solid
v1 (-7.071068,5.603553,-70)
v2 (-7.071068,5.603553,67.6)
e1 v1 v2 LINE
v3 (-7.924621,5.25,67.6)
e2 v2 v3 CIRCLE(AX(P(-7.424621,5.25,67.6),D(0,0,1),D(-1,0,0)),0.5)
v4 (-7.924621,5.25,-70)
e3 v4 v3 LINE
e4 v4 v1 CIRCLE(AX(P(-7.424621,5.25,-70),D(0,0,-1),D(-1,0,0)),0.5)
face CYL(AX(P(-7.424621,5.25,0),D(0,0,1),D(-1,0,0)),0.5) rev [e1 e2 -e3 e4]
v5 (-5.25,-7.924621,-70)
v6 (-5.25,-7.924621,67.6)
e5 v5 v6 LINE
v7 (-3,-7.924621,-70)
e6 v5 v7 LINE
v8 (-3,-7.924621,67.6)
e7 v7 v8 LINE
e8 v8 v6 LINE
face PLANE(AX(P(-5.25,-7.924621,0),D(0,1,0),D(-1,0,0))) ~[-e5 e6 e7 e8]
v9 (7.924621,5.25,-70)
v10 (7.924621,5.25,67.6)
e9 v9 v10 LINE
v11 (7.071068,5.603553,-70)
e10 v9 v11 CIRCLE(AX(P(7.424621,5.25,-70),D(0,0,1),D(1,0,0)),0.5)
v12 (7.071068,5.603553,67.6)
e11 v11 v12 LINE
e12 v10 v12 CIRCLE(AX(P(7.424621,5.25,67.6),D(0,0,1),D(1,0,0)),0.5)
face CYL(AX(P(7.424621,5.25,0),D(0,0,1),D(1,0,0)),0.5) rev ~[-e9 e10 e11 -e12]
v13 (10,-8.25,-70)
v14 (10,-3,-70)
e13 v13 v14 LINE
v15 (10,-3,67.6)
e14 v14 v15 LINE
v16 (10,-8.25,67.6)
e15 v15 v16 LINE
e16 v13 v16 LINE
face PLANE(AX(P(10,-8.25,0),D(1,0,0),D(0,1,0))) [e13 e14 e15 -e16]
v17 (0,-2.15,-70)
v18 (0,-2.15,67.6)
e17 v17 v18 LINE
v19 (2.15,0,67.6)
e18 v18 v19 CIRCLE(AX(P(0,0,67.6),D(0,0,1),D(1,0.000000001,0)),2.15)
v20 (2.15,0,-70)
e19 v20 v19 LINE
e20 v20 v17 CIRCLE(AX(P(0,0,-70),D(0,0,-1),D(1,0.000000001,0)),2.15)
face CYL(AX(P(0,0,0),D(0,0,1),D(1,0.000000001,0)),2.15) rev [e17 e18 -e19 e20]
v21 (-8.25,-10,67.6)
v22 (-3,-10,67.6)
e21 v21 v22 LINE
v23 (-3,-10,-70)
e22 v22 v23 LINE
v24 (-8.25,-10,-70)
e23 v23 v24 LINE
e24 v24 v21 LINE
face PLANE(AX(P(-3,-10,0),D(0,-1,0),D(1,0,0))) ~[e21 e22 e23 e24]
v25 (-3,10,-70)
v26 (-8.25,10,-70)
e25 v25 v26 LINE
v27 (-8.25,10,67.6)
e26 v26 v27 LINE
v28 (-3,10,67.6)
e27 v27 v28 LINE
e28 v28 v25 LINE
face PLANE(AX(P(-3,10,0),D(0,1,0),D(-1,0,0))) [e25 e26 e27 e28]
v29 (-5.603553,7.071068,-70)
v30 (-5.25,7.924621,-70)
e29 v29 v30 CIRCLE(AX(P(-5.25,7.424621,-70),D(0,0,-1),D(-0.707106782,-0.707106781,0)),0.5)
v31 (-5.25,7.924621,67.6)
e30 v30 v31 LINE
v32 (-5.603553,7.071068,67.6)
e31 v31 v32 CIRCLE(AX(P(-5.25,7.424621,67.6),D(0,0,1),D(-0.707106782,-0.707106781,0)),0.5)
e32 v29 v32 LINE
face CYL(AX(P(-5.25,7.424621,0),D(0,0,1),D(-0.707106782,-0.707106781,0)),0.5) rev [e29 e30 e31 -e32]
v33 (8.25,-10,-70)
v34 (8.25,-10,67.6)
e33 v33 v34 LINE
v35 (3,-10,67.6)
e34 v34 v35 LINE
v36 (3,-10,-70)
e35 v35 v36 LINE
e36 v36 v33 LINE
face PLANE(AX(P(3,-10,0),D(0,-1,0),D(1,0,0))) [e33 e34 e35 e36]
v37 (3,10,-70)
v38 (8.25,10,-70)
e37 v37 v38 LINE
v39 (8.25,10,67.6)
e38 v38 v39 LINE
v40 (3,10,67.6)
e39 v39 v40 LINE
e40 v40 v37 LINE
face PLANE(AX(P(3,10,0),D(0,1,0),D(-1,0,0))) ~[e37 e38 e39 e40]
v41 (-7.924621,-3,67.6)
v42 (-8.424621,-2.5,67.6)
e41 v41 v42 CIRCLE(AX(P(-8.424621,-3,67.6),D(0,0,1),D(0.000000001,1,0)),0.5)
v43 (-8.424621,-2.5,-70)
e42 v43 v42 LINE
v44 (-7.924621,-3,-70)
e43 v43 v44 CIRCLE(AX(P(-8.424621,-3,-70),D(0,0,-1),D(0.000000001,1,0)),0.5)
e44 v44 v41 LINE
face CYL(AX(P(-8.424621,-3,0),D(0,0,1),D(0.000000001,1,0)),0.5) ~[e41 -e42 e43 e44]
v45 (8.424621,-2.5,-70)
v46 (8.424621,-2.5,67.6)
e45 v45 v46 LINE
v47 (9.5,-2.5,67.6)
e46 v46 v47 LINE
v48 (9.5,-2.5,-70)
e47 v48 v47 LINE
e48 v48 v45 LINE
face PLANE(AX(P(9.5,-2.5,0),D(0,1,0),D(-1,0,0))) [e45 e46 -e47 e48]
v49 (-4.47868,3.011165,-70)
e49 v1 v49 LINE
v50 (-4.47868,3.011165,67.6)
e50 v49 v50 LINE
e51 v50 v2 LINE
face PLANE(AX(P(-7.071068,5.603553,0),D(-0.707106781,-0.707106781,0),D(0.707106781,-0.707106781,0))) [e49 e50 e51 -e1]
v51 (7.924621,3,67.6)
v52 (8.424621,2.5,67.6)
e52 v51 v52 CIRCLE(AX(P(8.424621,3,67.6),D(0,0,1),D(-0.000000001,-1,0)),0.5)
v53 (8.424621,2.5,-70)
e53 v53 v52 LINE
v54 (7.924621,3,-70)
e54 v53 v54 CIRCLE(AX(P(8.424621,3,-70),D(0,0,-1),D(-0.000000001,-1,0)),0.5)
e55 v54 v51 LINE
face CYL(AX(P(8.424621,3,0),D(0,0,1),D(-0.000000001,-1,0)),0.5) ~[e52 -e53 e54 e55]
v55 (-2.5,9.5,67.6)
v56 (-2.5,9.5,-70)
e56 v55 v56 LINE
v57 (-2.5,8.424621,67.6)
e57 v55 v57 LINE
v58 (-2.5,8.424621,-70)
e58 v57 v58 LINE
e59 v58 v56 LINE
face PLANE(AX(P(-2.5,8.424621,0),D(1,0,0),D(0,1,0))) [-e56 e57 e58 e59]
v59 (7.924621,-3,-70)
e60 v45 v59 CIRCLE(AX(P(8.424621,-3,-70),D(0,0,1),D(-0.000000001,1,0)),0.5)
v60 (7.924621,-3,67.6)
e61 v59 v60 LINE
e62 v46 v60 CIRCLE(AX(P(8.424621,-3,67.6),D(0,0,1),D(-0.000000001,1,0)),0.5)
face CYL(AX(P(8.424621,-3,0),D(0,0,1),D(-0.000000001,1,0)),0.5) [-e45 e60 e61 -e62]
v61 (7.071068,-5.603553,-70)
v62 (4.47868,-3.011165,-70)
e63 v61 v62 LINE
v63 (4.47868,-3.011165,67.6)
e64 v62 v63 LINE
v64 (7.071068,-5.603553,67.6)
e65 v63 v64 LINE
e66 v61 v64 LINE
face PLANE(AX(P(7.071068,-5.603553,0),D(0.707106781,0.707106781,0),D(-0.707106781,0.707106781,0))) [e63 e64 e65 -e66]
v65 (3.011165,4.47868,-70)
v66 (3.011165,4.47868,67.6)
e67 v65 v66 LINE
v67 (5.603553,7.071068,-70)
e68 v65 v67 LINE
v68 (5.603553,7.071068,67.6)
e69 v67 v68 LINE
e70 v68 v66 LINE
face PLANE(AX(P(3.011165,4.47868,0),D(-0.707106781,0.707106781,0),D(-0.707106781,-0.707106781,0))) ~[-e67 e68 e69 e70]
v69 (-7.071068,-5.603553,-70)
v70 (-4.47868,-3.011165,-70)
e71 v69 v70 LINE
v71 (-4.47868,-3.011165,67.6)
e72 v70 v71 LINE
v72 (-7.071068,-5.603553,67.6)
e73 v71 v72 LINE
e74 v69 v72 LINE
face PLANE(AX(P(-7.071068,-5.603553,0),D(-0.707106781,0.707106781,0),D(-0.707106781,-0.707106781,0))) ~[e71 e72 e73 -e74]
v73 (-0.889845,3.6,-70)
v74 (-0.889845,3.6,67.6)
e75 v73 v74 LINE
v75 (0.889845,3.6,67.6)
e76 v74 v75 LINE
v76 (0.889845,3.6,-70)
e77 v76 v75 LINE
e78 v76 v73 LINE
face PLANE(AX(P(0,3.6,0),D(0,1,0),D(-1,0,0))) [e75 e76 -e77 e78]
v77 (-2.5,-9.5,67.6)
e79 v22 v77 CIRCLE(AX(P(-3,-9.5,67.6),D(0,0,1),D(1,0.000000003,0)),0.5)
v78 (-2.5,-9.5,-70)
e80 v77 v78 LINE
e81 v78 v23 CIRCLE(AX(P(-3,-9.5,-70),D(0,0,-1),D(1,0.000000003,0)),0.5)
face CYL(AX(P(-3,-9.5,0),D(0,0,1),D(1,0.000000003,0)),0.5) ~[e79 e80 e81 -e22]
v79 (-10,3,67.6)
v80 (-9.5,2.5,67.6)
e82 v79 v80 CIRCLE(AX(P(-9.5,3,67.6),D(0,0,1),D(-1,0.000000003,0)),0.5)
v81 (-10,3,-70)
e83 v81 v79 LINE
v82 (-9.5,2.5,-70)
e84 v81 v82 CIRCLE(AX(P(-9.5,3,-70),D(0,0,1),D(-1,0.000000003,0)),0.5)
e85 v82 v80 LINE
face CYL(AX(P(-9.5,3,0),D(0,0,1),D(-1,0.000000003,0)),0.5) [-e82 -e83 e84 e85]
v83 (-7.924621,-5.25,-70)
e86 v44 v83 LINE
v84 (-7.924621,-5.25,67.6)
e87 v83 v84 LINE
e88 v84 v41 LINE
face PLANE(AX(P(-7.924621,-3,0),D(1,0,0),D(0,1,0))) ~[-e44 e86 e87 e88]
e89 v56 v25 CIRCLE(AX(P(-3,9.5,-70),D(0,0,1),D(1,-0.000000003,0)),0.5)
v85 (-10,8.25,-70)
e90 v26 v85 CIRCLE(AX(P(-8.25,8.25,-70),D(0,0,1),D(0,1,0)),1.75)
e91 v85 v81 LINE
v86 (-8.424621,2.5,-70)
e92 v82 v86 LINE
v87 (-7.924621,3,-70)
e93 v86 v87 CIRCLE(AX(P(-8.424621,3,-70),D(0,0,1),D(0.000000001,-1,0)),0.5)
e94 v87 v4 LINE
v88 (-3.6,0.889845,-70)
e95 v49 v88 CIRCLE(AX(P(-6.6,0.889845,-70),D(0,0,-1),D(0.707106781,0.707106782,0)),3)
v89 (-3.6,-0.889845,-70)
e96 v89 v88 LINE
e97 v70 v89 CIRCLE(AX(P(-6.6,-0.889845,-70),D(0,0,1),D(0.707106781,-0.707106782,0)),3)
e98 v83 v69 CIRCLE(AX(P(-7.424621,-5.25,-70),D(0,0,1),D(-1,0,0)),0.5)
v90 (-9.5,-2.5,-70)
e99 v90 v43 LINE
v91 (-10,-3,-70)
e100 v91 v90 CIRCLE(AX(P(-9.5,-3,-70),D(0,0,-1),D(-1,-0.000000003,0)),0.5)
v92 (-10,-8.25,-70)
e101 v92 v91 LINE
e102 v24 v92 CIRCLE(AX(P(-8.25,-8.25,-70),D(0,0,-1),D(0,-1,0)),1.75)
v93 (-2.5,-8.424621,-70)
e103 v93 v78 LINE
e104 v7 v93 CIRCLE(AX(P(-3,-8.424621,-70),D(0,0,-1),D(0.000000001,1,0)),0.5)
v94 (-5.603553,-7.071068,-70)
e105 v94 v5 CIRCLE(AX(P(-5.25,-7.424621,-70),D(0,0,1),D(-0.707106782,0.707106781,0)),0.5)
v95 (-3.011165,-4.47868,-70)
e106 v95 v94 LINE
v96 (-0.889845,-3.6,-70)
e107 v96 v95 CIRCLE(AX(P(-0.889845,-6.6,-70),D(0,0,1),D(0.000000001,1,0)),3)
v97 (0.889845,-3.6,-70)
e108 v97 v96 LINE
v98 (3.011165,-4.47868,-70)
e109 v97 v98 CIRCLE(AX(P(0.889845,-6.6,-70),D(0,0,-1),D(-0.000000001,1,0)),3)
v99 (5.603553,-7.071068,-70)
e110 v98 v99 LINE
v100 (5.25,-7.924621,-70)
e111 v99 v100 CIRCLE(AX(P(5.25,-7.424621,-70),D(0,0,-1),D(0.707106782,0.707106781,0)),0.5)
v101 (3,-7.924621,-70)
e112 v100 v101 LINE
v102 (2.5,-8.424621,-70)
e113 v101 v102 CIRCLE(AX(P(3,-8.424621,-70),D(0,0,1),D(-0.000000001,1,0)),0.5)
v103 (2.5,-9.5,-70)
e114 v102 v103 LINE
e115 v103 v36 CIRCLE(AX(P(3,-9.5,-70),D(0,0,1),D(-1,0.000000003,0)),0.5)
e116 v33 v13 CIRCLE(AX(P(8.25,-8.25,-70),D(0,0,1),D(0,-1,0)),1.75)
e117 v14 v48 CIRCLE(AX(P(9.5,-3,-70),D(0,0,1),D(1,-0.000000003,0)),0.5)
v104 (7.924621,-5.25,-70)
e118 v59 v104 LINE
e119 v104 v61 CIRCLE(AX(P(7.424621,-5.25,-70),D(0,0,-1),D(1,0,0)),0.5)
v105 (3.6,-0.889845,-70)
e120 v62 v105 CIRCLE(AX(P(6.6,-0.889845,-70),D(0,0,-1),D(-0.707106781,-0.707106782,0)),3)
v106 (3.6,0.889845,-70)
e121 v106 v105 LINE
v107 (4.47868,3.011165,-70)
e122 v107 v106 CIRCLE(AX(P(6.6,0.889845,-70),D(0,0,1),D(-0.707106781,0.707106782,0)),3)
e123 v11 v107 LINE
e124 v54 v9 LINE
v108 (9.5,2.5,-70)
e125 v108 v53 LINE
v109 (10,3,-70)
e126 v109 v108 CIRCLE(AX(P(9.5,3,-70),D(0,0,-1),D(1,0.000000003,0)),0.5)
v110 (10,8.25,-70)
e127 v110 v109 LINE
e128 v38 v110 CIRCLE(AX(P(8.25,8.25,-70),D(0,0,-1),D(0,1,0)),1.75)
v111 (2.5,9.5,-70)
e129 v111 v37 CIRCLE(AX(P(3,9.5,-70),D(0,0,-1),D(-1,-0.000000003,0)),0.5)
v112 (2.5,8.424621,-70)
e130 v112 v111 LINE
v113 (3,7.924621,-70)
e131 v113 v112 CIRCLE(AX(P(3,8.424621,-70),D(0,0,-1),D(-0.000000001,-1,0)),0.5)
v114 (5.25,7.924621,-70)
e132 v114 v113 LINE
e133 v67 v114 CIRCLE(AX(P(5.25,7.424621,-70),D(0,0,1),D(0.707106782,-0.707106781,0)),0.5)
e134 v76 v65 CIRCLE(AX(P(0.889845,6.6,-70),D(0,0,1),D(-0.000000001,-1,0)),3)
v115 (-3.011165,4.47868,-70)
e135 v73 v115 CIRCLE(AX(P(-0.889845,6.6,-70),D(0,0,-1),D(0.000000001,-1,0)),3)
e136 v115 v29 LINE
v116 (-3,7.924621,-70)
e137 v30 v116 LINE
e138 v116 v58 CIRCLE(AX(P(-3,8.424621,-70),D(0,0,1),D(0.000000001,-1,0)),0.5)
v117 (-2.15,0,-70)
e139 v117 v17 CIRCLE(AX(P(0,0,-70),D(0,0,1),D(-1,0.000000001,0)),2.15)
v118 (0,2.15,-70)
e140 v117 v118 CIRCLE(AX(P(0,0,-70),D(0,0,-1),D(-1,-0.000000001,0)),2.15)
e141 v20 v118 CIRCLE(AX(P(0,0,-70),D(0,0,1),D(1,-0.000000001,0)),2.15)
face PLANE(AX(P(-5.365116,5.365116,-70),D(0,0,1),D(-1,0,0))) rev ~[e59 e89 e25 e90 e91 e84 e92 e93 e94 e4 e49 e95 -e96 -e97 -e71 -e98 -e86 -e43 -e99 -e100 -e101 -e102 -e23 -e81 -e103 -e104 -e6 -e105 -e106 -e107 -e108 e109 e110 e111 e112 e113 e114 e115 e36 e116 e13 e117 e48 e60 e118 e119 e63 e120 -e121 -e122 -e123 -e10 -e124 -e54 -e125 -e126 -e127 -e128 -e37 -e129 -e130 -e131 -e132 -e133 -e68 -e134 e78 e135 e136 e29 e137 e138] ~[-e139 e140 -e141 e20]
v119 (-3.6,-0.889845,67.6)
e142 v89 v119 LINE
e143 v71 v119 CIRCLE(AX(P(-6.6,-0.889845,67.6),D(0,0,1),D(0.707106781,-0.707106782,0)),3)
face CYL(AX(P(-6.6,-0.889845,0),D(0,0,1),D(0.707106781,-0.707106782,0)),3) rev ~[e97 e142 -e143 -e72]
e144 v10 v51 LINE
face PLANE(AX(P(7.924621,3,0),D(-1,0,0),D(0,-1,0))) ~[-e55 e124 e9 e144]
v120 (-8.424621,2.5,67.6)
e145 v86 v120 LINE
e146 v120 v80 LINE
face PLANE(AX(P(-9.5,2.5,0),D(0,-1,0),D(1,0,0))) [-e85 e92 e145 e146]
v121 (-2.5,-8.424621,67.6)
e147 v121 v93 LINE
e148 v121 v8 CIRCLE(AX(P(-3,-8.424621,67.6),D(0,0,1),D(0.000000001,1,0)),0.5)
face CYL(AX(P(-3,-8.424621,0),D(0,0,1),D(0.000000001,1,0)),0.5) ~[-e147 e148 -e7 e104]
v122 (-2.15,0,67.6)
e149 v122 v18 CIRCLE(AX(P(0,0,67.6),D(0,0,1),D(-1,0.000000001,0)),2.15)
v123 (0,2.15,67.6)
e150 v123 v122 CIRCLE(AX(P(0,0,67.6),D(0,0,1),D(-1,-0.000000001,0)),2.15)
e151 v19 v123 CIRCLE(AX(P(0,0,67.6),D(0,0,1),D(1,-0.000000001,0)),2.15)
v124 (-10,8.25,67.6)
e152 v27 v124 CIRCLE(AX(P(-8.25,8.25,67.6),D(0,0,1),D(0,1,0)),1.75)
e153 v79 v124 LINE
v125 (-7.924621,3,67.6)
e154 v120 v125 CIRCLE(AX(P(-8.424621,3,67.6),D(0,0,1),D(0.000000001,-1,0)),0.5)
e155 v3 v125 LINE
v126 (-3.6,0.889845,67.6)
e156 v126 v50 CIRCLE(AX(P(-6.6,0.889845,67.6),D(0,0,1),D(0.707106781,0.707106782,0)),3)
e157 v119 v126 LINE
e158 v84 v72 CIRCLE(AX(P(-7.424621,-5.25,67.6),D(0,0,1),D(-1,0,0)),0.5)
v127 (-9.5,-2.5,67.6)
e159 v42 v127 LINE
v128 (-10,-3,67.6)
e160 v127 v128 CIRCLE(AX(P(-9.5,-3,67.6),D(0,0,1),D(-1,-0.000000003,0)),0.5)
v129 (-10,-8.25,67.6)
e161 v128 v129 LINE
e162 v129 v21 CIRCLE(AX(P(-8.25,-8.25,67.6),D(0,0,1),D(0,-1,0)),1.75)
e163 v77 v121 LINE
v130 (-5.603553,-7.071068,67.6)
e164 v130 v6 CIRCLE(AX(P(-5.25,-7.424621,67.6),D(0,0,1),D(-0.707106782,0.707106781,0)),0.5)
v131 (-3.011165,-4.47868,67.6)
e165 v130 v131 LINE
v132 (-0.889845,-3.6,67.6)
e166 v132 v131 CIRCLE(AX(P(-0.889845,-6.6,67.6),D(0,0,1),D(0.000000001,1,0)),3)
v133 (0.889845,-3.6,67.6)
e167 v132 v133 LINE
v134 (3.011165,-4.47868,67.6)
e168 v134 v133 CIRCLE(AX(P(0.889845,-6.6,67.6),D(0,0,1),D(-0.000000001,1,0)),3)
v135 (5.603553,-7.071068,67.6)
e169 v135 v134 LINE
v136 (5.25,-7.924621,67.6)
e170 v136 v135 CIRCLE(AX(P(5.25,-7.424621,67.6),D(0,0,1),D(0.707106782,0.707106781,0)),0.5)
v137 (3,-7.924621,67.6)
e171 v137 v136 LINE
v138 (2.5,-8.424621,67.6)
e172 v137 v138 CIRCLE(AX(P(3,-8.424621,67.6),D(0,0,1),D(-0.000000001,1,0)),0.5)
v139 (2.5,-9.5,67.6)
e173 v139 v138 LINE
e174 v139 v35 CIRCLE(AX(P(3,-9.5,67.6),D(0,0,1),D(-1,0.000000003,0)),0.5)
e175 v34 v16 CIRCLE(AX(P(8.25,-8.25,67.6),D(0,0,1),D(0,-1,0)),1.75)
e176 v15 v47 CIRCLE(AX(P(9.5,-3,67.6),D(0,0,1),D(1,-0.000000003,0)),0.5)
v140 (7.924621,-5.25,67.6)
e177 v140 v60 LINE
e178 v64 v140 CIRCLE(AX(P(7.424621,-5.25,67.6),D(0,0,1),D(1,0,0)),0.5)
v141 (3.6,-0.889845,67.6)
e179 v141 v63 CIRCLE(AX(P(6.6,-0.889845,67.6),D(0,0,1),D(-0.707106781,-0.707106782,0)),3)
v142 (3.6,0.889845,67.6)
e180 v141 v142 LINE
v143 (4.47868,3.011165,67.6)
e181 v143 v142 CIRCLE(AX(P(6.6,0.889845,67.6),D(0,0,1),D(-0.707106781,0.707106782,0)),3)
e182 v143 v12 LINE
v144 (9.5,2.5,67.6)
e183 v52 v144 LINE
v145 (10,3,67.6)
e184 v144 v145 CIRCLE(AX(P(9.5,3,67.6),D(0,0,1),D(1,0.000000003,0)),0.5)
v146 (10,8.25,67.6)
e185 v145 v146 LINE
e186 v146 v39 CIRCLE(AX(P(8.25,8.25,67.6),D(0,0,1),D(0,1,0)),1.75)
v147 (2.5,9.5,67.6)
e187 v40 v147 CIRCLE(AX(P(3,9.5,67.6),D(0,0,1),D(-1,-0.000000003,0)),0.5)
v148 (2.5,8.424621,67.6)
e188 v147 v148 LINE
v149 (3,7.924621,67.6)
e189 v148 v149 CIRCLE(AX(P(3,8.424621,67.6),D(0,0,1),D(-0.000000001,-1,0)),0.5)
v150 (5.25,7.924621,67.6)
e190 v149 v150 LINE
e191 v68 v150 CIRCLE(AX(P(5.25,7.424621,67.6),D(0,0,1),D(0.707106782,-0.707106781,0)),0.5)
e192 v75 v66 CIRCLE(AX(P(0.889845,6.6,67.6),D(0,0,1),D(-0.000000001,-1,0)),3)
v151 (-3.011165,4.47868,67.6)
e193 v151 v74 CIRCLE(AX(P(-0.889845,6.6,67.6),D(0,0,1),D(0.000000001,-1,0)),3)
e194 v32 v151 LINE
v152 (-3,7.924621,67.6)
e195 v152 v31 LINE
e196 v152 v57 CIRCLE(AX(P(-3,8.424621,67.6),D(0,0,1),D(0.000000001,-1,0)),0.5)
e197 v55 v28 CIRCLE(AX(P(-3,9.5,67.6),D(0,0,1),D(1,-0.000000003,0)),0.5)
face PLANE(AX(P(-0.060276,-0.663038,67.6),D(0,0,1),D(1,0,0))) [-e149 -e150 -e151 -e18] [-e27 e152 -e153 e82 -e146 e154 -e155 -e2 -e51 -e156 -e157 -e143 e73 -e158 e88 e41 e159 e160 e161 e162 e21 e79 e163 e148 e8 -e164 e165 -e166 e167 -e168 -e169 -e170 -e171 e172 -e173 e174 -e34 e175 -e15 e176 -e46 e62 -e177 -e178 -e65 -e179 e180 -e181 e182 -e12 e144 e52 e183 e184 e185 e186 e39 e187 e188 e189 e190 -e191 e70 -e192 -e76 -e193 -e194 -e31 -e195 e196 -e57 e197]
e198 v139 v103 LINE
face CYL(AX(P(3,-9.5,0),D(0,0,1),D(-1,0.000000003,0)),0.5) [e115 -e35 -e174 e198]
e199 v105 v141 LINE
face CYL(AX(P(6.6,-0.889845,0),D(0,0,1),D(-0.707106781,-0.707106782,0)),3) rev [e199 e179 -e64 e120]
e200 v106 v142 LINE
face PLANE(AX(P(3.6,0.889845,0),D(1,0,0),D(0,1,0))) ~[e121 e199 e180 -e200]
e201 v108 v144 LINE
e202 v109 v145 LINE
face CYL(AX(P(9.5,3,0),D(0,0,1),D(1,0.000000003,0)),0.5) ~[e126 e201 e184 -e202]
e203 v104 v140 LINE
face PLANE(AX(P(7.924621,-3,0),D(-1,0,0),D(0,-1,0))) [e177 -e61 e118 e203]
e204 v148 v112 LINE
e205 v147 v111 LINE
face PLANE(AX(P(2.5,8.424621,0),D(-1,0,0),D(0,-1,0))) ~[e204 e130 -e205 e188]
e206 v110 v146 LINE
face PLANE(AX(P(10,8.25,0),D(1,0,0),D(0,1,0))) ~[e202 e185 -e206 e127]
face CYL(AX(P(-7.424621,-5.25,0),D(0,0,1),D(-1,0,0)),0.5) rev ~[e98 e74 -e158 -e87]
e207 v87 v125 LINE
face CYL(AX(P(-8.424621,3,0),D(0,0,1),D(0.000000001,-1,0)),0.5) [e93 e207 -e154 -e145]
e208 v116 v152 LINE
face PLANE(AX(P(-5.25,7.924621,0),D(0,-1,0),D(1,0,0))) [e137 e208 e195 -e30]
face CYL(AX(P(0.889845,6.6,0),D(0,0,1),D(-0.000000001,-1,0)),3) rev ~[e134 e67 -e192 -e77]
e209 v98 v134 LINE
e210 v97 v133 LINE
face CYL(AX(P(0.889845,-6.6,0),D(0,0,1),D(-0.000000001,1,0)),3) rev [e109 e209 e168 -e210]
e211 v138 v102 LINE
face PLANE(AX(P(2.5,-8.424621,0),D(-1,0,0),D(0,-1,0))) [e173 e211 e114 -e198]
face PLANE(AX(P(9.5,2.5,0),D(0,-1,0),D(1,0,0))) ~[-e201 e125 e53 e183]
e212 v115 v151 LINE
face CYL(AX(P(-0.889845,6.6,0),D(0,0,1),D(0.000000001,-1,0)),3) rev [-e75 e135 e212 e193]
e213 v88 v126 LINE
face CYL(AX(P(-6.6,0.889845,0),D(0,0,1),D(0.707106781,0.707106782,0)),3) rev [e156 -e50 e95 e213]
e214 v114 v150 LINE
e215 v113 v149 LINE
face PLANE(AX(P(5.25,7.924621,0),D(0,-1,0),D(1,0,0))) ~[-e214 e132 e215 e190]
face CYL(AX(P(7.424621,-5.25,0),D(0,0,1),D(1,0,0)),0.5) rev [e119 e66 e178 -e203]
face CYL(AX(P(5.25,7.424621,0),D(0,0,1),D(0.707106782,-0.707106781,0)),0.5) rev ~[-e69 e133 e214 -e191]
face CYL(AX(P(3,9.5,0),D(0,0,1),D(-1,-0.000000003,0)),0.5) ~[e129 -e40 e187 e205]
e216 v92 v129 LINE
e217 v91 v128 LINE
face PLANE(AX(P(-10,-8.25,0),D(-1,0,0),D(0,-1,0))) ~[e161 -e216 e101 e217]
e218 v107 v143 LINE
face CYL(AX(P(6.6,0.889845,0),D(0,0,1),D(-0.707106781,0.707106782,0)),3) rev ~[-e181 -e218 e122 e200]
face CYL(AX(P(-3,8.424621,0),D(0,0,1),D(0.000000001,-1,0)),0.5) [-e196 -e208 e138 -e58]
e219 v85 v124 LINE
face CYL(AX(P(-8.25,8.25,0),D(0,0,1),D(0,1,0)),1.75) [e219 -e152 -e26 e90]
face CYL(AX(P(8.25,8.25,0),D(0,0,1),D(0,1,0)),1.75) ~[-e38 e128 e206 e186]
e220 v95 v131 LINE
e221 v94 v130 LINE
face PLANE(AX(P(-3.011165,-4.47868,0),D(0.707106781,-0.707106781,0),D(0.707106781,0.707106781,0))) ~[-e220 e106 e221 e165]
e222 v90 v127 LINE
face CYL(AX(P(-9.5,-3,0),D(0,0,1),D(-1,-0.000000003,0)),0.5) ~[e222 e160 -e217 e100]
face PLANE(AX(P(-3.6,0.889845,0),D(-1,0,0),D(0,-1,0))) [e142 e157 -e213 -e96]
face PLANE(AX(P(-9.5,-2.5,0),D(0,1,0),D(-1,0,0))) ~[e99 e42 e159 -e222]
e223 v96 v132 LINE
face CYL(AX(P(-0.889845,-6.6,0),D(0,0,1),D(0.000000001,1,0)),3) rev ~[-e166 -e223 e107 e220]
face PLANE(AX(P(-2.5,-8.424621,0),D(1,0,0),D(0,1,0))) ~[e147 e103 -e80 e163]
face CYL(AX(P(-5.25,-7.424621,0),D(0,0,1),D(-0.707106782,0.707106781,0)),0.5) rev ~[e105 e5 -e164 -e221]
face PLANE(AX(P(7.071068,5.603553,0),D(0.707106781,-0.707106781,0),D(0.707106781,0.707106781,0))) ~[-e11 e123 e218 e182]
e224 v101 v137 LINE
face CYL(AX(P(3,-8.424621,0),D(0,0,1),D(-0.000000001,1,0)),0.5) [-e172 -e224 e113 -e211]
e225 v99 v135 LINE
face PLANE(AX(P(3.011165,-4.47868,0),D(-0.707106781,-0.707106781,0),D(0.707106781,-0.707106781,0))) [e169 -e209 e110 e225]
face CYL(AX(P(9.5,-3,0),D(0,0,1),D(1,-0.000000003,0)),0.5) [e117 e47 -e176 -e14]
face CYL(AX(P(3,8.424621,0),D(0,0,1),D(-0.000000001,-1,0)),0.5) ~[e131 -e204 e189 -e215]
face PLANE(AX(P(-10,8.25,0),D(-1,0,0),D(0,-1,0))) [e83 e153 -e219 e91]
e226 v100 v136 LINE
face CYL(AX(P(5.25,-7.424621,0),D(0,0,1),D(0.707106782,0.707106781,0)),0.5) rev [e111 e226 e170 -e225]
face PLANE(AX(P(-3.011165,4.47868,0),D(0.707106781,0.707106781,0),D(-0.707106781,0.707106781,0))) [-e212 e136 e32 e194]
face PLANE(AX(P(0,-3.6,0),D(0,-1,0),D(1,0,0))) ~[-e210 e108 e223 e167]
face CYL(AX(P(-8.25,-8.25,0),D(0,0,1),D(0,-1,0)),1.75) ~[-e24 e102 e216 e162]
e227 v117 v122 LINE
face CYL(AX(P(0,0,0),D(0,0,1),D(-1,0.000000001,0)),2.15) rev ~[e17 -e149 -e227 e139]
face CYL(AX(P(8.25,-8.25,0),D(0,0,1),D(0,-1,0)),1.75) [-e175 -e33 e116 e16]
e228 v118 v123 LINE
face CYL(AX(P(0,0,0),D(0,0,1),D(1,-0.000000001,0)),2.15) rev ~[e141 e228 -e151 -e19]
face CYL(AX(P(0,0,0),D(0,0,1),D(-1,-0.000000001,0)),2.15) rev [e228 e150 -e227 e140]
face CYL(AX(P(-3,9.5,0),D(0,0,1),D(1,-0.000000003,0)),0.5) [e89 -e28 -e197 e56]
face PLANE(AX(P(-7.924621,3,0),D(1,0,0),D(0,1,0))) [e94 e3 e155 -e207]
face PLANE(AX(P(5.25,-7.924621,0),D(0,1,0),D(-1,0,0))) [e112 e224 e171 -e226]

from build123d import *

# Parameters (mm, degrees)
BOSS_EXTRUDE1_DEPTH = 70
SKETCH5_W           = 27.787302718
SKETCH5_H           = 26.03929452
CUT_EXTRUDE1_DEPTH  = 2.4


with BuildPart() as part:
    # Sketch4 → Boss-Extrude1 (new, symmetric)
    with BuildSketch(Plane.XY):
        with BuildLine():
            Line((3, -10), (8.25, -10))
            ThreePointArc((8.25, -10), (9.487436867, -9.487436867), (10, -8.25))
            Line((10, -8.25), (10, -3))
            ThreePointArc((10, -3), (9.853553391, -2.646446609), (9.5, -2.5))
            Line((9.5, -2.5), (8.424621202, -2.5))
            ThreePointArc((8.424621202, -2.5), (8.071067812, -2.646446609), (7.924621202, -3))
            Line((7.924621202, -3), (7.924621202, -5.25))
            ThreePointArc((7.924621202, -5.25), (7.615962919, -5.711939766), (7.071067812, -5.603553391))
            Line((7.071067812, -5.603553391), (4.478679656, -3.011165235))
            ThreePointArc((4.478679656, -3.011165235), (3.828361402, -2.037895189), (3.6, -0.889844892))
            Line((3.6, -0.889844892), (3.6, 0))
            Line((3.6, 0), (2.15, 0))
            ThreePointArc((2.15, 0), (1.52027958, -1.52027958), (0, -2.15))
            Line((0, -2.15), (0, -3.6))
            Line((0, -3.6), (0.889844892, -3.6))
            ThreePointArc((0.889844892, -3.6), (2.037895189, -3.828361402), (3.011165235, -4.478679656))
            Line((3.011165235, -4.478679656), (5.603553391, -7.071067812))
            ThreePointArc((5.603553391, -7.071067812), (5.711939766, -7.615962919), (5.25, -7.924621202))
            Line((5.25, -7.924621202), (3, -7.924621202))
            ThreePointArc((3, -7.924621202), (2.646446609, -8.071067812), (2.5, -8.424621202))
            Line((2.5, -8.424621202), (2.5, -9.5))
            ThreePointArc((2.5, -9.5), (2.646446609, -9.853553391), (3, -10))
        make_face()
    extrude(amount=BOSS_EXTRUDE1_DEPTH, both=True)

    # Mirror1: part across plane


with BuildPart() as part_1:
    add(part.part)
    add(part.part.mirror(Plane(origin=(0, 0, 0), x_dir=(0, 0, 1), z_dir=(1, 0, 0))))

    # Mirror2: part across plane


with BuildPart() as part_2:
    add(part_1.part)
    add(part_1.part.mirror(Plane.ZX))

    # Sketch5 → Cut-Extrude1 (cut)
    with BuildSketch(Plane.XY.offset(70)):
        with Locations((-0.060276145, -0.663037592)):
            Rectangle(SKETCH5_W, SKETCH5_H)
    extrude(amount=-CUT_EXTRUDE1_DEPTH, mode=Mode.SUBTRACT)


solid = part_2.part
